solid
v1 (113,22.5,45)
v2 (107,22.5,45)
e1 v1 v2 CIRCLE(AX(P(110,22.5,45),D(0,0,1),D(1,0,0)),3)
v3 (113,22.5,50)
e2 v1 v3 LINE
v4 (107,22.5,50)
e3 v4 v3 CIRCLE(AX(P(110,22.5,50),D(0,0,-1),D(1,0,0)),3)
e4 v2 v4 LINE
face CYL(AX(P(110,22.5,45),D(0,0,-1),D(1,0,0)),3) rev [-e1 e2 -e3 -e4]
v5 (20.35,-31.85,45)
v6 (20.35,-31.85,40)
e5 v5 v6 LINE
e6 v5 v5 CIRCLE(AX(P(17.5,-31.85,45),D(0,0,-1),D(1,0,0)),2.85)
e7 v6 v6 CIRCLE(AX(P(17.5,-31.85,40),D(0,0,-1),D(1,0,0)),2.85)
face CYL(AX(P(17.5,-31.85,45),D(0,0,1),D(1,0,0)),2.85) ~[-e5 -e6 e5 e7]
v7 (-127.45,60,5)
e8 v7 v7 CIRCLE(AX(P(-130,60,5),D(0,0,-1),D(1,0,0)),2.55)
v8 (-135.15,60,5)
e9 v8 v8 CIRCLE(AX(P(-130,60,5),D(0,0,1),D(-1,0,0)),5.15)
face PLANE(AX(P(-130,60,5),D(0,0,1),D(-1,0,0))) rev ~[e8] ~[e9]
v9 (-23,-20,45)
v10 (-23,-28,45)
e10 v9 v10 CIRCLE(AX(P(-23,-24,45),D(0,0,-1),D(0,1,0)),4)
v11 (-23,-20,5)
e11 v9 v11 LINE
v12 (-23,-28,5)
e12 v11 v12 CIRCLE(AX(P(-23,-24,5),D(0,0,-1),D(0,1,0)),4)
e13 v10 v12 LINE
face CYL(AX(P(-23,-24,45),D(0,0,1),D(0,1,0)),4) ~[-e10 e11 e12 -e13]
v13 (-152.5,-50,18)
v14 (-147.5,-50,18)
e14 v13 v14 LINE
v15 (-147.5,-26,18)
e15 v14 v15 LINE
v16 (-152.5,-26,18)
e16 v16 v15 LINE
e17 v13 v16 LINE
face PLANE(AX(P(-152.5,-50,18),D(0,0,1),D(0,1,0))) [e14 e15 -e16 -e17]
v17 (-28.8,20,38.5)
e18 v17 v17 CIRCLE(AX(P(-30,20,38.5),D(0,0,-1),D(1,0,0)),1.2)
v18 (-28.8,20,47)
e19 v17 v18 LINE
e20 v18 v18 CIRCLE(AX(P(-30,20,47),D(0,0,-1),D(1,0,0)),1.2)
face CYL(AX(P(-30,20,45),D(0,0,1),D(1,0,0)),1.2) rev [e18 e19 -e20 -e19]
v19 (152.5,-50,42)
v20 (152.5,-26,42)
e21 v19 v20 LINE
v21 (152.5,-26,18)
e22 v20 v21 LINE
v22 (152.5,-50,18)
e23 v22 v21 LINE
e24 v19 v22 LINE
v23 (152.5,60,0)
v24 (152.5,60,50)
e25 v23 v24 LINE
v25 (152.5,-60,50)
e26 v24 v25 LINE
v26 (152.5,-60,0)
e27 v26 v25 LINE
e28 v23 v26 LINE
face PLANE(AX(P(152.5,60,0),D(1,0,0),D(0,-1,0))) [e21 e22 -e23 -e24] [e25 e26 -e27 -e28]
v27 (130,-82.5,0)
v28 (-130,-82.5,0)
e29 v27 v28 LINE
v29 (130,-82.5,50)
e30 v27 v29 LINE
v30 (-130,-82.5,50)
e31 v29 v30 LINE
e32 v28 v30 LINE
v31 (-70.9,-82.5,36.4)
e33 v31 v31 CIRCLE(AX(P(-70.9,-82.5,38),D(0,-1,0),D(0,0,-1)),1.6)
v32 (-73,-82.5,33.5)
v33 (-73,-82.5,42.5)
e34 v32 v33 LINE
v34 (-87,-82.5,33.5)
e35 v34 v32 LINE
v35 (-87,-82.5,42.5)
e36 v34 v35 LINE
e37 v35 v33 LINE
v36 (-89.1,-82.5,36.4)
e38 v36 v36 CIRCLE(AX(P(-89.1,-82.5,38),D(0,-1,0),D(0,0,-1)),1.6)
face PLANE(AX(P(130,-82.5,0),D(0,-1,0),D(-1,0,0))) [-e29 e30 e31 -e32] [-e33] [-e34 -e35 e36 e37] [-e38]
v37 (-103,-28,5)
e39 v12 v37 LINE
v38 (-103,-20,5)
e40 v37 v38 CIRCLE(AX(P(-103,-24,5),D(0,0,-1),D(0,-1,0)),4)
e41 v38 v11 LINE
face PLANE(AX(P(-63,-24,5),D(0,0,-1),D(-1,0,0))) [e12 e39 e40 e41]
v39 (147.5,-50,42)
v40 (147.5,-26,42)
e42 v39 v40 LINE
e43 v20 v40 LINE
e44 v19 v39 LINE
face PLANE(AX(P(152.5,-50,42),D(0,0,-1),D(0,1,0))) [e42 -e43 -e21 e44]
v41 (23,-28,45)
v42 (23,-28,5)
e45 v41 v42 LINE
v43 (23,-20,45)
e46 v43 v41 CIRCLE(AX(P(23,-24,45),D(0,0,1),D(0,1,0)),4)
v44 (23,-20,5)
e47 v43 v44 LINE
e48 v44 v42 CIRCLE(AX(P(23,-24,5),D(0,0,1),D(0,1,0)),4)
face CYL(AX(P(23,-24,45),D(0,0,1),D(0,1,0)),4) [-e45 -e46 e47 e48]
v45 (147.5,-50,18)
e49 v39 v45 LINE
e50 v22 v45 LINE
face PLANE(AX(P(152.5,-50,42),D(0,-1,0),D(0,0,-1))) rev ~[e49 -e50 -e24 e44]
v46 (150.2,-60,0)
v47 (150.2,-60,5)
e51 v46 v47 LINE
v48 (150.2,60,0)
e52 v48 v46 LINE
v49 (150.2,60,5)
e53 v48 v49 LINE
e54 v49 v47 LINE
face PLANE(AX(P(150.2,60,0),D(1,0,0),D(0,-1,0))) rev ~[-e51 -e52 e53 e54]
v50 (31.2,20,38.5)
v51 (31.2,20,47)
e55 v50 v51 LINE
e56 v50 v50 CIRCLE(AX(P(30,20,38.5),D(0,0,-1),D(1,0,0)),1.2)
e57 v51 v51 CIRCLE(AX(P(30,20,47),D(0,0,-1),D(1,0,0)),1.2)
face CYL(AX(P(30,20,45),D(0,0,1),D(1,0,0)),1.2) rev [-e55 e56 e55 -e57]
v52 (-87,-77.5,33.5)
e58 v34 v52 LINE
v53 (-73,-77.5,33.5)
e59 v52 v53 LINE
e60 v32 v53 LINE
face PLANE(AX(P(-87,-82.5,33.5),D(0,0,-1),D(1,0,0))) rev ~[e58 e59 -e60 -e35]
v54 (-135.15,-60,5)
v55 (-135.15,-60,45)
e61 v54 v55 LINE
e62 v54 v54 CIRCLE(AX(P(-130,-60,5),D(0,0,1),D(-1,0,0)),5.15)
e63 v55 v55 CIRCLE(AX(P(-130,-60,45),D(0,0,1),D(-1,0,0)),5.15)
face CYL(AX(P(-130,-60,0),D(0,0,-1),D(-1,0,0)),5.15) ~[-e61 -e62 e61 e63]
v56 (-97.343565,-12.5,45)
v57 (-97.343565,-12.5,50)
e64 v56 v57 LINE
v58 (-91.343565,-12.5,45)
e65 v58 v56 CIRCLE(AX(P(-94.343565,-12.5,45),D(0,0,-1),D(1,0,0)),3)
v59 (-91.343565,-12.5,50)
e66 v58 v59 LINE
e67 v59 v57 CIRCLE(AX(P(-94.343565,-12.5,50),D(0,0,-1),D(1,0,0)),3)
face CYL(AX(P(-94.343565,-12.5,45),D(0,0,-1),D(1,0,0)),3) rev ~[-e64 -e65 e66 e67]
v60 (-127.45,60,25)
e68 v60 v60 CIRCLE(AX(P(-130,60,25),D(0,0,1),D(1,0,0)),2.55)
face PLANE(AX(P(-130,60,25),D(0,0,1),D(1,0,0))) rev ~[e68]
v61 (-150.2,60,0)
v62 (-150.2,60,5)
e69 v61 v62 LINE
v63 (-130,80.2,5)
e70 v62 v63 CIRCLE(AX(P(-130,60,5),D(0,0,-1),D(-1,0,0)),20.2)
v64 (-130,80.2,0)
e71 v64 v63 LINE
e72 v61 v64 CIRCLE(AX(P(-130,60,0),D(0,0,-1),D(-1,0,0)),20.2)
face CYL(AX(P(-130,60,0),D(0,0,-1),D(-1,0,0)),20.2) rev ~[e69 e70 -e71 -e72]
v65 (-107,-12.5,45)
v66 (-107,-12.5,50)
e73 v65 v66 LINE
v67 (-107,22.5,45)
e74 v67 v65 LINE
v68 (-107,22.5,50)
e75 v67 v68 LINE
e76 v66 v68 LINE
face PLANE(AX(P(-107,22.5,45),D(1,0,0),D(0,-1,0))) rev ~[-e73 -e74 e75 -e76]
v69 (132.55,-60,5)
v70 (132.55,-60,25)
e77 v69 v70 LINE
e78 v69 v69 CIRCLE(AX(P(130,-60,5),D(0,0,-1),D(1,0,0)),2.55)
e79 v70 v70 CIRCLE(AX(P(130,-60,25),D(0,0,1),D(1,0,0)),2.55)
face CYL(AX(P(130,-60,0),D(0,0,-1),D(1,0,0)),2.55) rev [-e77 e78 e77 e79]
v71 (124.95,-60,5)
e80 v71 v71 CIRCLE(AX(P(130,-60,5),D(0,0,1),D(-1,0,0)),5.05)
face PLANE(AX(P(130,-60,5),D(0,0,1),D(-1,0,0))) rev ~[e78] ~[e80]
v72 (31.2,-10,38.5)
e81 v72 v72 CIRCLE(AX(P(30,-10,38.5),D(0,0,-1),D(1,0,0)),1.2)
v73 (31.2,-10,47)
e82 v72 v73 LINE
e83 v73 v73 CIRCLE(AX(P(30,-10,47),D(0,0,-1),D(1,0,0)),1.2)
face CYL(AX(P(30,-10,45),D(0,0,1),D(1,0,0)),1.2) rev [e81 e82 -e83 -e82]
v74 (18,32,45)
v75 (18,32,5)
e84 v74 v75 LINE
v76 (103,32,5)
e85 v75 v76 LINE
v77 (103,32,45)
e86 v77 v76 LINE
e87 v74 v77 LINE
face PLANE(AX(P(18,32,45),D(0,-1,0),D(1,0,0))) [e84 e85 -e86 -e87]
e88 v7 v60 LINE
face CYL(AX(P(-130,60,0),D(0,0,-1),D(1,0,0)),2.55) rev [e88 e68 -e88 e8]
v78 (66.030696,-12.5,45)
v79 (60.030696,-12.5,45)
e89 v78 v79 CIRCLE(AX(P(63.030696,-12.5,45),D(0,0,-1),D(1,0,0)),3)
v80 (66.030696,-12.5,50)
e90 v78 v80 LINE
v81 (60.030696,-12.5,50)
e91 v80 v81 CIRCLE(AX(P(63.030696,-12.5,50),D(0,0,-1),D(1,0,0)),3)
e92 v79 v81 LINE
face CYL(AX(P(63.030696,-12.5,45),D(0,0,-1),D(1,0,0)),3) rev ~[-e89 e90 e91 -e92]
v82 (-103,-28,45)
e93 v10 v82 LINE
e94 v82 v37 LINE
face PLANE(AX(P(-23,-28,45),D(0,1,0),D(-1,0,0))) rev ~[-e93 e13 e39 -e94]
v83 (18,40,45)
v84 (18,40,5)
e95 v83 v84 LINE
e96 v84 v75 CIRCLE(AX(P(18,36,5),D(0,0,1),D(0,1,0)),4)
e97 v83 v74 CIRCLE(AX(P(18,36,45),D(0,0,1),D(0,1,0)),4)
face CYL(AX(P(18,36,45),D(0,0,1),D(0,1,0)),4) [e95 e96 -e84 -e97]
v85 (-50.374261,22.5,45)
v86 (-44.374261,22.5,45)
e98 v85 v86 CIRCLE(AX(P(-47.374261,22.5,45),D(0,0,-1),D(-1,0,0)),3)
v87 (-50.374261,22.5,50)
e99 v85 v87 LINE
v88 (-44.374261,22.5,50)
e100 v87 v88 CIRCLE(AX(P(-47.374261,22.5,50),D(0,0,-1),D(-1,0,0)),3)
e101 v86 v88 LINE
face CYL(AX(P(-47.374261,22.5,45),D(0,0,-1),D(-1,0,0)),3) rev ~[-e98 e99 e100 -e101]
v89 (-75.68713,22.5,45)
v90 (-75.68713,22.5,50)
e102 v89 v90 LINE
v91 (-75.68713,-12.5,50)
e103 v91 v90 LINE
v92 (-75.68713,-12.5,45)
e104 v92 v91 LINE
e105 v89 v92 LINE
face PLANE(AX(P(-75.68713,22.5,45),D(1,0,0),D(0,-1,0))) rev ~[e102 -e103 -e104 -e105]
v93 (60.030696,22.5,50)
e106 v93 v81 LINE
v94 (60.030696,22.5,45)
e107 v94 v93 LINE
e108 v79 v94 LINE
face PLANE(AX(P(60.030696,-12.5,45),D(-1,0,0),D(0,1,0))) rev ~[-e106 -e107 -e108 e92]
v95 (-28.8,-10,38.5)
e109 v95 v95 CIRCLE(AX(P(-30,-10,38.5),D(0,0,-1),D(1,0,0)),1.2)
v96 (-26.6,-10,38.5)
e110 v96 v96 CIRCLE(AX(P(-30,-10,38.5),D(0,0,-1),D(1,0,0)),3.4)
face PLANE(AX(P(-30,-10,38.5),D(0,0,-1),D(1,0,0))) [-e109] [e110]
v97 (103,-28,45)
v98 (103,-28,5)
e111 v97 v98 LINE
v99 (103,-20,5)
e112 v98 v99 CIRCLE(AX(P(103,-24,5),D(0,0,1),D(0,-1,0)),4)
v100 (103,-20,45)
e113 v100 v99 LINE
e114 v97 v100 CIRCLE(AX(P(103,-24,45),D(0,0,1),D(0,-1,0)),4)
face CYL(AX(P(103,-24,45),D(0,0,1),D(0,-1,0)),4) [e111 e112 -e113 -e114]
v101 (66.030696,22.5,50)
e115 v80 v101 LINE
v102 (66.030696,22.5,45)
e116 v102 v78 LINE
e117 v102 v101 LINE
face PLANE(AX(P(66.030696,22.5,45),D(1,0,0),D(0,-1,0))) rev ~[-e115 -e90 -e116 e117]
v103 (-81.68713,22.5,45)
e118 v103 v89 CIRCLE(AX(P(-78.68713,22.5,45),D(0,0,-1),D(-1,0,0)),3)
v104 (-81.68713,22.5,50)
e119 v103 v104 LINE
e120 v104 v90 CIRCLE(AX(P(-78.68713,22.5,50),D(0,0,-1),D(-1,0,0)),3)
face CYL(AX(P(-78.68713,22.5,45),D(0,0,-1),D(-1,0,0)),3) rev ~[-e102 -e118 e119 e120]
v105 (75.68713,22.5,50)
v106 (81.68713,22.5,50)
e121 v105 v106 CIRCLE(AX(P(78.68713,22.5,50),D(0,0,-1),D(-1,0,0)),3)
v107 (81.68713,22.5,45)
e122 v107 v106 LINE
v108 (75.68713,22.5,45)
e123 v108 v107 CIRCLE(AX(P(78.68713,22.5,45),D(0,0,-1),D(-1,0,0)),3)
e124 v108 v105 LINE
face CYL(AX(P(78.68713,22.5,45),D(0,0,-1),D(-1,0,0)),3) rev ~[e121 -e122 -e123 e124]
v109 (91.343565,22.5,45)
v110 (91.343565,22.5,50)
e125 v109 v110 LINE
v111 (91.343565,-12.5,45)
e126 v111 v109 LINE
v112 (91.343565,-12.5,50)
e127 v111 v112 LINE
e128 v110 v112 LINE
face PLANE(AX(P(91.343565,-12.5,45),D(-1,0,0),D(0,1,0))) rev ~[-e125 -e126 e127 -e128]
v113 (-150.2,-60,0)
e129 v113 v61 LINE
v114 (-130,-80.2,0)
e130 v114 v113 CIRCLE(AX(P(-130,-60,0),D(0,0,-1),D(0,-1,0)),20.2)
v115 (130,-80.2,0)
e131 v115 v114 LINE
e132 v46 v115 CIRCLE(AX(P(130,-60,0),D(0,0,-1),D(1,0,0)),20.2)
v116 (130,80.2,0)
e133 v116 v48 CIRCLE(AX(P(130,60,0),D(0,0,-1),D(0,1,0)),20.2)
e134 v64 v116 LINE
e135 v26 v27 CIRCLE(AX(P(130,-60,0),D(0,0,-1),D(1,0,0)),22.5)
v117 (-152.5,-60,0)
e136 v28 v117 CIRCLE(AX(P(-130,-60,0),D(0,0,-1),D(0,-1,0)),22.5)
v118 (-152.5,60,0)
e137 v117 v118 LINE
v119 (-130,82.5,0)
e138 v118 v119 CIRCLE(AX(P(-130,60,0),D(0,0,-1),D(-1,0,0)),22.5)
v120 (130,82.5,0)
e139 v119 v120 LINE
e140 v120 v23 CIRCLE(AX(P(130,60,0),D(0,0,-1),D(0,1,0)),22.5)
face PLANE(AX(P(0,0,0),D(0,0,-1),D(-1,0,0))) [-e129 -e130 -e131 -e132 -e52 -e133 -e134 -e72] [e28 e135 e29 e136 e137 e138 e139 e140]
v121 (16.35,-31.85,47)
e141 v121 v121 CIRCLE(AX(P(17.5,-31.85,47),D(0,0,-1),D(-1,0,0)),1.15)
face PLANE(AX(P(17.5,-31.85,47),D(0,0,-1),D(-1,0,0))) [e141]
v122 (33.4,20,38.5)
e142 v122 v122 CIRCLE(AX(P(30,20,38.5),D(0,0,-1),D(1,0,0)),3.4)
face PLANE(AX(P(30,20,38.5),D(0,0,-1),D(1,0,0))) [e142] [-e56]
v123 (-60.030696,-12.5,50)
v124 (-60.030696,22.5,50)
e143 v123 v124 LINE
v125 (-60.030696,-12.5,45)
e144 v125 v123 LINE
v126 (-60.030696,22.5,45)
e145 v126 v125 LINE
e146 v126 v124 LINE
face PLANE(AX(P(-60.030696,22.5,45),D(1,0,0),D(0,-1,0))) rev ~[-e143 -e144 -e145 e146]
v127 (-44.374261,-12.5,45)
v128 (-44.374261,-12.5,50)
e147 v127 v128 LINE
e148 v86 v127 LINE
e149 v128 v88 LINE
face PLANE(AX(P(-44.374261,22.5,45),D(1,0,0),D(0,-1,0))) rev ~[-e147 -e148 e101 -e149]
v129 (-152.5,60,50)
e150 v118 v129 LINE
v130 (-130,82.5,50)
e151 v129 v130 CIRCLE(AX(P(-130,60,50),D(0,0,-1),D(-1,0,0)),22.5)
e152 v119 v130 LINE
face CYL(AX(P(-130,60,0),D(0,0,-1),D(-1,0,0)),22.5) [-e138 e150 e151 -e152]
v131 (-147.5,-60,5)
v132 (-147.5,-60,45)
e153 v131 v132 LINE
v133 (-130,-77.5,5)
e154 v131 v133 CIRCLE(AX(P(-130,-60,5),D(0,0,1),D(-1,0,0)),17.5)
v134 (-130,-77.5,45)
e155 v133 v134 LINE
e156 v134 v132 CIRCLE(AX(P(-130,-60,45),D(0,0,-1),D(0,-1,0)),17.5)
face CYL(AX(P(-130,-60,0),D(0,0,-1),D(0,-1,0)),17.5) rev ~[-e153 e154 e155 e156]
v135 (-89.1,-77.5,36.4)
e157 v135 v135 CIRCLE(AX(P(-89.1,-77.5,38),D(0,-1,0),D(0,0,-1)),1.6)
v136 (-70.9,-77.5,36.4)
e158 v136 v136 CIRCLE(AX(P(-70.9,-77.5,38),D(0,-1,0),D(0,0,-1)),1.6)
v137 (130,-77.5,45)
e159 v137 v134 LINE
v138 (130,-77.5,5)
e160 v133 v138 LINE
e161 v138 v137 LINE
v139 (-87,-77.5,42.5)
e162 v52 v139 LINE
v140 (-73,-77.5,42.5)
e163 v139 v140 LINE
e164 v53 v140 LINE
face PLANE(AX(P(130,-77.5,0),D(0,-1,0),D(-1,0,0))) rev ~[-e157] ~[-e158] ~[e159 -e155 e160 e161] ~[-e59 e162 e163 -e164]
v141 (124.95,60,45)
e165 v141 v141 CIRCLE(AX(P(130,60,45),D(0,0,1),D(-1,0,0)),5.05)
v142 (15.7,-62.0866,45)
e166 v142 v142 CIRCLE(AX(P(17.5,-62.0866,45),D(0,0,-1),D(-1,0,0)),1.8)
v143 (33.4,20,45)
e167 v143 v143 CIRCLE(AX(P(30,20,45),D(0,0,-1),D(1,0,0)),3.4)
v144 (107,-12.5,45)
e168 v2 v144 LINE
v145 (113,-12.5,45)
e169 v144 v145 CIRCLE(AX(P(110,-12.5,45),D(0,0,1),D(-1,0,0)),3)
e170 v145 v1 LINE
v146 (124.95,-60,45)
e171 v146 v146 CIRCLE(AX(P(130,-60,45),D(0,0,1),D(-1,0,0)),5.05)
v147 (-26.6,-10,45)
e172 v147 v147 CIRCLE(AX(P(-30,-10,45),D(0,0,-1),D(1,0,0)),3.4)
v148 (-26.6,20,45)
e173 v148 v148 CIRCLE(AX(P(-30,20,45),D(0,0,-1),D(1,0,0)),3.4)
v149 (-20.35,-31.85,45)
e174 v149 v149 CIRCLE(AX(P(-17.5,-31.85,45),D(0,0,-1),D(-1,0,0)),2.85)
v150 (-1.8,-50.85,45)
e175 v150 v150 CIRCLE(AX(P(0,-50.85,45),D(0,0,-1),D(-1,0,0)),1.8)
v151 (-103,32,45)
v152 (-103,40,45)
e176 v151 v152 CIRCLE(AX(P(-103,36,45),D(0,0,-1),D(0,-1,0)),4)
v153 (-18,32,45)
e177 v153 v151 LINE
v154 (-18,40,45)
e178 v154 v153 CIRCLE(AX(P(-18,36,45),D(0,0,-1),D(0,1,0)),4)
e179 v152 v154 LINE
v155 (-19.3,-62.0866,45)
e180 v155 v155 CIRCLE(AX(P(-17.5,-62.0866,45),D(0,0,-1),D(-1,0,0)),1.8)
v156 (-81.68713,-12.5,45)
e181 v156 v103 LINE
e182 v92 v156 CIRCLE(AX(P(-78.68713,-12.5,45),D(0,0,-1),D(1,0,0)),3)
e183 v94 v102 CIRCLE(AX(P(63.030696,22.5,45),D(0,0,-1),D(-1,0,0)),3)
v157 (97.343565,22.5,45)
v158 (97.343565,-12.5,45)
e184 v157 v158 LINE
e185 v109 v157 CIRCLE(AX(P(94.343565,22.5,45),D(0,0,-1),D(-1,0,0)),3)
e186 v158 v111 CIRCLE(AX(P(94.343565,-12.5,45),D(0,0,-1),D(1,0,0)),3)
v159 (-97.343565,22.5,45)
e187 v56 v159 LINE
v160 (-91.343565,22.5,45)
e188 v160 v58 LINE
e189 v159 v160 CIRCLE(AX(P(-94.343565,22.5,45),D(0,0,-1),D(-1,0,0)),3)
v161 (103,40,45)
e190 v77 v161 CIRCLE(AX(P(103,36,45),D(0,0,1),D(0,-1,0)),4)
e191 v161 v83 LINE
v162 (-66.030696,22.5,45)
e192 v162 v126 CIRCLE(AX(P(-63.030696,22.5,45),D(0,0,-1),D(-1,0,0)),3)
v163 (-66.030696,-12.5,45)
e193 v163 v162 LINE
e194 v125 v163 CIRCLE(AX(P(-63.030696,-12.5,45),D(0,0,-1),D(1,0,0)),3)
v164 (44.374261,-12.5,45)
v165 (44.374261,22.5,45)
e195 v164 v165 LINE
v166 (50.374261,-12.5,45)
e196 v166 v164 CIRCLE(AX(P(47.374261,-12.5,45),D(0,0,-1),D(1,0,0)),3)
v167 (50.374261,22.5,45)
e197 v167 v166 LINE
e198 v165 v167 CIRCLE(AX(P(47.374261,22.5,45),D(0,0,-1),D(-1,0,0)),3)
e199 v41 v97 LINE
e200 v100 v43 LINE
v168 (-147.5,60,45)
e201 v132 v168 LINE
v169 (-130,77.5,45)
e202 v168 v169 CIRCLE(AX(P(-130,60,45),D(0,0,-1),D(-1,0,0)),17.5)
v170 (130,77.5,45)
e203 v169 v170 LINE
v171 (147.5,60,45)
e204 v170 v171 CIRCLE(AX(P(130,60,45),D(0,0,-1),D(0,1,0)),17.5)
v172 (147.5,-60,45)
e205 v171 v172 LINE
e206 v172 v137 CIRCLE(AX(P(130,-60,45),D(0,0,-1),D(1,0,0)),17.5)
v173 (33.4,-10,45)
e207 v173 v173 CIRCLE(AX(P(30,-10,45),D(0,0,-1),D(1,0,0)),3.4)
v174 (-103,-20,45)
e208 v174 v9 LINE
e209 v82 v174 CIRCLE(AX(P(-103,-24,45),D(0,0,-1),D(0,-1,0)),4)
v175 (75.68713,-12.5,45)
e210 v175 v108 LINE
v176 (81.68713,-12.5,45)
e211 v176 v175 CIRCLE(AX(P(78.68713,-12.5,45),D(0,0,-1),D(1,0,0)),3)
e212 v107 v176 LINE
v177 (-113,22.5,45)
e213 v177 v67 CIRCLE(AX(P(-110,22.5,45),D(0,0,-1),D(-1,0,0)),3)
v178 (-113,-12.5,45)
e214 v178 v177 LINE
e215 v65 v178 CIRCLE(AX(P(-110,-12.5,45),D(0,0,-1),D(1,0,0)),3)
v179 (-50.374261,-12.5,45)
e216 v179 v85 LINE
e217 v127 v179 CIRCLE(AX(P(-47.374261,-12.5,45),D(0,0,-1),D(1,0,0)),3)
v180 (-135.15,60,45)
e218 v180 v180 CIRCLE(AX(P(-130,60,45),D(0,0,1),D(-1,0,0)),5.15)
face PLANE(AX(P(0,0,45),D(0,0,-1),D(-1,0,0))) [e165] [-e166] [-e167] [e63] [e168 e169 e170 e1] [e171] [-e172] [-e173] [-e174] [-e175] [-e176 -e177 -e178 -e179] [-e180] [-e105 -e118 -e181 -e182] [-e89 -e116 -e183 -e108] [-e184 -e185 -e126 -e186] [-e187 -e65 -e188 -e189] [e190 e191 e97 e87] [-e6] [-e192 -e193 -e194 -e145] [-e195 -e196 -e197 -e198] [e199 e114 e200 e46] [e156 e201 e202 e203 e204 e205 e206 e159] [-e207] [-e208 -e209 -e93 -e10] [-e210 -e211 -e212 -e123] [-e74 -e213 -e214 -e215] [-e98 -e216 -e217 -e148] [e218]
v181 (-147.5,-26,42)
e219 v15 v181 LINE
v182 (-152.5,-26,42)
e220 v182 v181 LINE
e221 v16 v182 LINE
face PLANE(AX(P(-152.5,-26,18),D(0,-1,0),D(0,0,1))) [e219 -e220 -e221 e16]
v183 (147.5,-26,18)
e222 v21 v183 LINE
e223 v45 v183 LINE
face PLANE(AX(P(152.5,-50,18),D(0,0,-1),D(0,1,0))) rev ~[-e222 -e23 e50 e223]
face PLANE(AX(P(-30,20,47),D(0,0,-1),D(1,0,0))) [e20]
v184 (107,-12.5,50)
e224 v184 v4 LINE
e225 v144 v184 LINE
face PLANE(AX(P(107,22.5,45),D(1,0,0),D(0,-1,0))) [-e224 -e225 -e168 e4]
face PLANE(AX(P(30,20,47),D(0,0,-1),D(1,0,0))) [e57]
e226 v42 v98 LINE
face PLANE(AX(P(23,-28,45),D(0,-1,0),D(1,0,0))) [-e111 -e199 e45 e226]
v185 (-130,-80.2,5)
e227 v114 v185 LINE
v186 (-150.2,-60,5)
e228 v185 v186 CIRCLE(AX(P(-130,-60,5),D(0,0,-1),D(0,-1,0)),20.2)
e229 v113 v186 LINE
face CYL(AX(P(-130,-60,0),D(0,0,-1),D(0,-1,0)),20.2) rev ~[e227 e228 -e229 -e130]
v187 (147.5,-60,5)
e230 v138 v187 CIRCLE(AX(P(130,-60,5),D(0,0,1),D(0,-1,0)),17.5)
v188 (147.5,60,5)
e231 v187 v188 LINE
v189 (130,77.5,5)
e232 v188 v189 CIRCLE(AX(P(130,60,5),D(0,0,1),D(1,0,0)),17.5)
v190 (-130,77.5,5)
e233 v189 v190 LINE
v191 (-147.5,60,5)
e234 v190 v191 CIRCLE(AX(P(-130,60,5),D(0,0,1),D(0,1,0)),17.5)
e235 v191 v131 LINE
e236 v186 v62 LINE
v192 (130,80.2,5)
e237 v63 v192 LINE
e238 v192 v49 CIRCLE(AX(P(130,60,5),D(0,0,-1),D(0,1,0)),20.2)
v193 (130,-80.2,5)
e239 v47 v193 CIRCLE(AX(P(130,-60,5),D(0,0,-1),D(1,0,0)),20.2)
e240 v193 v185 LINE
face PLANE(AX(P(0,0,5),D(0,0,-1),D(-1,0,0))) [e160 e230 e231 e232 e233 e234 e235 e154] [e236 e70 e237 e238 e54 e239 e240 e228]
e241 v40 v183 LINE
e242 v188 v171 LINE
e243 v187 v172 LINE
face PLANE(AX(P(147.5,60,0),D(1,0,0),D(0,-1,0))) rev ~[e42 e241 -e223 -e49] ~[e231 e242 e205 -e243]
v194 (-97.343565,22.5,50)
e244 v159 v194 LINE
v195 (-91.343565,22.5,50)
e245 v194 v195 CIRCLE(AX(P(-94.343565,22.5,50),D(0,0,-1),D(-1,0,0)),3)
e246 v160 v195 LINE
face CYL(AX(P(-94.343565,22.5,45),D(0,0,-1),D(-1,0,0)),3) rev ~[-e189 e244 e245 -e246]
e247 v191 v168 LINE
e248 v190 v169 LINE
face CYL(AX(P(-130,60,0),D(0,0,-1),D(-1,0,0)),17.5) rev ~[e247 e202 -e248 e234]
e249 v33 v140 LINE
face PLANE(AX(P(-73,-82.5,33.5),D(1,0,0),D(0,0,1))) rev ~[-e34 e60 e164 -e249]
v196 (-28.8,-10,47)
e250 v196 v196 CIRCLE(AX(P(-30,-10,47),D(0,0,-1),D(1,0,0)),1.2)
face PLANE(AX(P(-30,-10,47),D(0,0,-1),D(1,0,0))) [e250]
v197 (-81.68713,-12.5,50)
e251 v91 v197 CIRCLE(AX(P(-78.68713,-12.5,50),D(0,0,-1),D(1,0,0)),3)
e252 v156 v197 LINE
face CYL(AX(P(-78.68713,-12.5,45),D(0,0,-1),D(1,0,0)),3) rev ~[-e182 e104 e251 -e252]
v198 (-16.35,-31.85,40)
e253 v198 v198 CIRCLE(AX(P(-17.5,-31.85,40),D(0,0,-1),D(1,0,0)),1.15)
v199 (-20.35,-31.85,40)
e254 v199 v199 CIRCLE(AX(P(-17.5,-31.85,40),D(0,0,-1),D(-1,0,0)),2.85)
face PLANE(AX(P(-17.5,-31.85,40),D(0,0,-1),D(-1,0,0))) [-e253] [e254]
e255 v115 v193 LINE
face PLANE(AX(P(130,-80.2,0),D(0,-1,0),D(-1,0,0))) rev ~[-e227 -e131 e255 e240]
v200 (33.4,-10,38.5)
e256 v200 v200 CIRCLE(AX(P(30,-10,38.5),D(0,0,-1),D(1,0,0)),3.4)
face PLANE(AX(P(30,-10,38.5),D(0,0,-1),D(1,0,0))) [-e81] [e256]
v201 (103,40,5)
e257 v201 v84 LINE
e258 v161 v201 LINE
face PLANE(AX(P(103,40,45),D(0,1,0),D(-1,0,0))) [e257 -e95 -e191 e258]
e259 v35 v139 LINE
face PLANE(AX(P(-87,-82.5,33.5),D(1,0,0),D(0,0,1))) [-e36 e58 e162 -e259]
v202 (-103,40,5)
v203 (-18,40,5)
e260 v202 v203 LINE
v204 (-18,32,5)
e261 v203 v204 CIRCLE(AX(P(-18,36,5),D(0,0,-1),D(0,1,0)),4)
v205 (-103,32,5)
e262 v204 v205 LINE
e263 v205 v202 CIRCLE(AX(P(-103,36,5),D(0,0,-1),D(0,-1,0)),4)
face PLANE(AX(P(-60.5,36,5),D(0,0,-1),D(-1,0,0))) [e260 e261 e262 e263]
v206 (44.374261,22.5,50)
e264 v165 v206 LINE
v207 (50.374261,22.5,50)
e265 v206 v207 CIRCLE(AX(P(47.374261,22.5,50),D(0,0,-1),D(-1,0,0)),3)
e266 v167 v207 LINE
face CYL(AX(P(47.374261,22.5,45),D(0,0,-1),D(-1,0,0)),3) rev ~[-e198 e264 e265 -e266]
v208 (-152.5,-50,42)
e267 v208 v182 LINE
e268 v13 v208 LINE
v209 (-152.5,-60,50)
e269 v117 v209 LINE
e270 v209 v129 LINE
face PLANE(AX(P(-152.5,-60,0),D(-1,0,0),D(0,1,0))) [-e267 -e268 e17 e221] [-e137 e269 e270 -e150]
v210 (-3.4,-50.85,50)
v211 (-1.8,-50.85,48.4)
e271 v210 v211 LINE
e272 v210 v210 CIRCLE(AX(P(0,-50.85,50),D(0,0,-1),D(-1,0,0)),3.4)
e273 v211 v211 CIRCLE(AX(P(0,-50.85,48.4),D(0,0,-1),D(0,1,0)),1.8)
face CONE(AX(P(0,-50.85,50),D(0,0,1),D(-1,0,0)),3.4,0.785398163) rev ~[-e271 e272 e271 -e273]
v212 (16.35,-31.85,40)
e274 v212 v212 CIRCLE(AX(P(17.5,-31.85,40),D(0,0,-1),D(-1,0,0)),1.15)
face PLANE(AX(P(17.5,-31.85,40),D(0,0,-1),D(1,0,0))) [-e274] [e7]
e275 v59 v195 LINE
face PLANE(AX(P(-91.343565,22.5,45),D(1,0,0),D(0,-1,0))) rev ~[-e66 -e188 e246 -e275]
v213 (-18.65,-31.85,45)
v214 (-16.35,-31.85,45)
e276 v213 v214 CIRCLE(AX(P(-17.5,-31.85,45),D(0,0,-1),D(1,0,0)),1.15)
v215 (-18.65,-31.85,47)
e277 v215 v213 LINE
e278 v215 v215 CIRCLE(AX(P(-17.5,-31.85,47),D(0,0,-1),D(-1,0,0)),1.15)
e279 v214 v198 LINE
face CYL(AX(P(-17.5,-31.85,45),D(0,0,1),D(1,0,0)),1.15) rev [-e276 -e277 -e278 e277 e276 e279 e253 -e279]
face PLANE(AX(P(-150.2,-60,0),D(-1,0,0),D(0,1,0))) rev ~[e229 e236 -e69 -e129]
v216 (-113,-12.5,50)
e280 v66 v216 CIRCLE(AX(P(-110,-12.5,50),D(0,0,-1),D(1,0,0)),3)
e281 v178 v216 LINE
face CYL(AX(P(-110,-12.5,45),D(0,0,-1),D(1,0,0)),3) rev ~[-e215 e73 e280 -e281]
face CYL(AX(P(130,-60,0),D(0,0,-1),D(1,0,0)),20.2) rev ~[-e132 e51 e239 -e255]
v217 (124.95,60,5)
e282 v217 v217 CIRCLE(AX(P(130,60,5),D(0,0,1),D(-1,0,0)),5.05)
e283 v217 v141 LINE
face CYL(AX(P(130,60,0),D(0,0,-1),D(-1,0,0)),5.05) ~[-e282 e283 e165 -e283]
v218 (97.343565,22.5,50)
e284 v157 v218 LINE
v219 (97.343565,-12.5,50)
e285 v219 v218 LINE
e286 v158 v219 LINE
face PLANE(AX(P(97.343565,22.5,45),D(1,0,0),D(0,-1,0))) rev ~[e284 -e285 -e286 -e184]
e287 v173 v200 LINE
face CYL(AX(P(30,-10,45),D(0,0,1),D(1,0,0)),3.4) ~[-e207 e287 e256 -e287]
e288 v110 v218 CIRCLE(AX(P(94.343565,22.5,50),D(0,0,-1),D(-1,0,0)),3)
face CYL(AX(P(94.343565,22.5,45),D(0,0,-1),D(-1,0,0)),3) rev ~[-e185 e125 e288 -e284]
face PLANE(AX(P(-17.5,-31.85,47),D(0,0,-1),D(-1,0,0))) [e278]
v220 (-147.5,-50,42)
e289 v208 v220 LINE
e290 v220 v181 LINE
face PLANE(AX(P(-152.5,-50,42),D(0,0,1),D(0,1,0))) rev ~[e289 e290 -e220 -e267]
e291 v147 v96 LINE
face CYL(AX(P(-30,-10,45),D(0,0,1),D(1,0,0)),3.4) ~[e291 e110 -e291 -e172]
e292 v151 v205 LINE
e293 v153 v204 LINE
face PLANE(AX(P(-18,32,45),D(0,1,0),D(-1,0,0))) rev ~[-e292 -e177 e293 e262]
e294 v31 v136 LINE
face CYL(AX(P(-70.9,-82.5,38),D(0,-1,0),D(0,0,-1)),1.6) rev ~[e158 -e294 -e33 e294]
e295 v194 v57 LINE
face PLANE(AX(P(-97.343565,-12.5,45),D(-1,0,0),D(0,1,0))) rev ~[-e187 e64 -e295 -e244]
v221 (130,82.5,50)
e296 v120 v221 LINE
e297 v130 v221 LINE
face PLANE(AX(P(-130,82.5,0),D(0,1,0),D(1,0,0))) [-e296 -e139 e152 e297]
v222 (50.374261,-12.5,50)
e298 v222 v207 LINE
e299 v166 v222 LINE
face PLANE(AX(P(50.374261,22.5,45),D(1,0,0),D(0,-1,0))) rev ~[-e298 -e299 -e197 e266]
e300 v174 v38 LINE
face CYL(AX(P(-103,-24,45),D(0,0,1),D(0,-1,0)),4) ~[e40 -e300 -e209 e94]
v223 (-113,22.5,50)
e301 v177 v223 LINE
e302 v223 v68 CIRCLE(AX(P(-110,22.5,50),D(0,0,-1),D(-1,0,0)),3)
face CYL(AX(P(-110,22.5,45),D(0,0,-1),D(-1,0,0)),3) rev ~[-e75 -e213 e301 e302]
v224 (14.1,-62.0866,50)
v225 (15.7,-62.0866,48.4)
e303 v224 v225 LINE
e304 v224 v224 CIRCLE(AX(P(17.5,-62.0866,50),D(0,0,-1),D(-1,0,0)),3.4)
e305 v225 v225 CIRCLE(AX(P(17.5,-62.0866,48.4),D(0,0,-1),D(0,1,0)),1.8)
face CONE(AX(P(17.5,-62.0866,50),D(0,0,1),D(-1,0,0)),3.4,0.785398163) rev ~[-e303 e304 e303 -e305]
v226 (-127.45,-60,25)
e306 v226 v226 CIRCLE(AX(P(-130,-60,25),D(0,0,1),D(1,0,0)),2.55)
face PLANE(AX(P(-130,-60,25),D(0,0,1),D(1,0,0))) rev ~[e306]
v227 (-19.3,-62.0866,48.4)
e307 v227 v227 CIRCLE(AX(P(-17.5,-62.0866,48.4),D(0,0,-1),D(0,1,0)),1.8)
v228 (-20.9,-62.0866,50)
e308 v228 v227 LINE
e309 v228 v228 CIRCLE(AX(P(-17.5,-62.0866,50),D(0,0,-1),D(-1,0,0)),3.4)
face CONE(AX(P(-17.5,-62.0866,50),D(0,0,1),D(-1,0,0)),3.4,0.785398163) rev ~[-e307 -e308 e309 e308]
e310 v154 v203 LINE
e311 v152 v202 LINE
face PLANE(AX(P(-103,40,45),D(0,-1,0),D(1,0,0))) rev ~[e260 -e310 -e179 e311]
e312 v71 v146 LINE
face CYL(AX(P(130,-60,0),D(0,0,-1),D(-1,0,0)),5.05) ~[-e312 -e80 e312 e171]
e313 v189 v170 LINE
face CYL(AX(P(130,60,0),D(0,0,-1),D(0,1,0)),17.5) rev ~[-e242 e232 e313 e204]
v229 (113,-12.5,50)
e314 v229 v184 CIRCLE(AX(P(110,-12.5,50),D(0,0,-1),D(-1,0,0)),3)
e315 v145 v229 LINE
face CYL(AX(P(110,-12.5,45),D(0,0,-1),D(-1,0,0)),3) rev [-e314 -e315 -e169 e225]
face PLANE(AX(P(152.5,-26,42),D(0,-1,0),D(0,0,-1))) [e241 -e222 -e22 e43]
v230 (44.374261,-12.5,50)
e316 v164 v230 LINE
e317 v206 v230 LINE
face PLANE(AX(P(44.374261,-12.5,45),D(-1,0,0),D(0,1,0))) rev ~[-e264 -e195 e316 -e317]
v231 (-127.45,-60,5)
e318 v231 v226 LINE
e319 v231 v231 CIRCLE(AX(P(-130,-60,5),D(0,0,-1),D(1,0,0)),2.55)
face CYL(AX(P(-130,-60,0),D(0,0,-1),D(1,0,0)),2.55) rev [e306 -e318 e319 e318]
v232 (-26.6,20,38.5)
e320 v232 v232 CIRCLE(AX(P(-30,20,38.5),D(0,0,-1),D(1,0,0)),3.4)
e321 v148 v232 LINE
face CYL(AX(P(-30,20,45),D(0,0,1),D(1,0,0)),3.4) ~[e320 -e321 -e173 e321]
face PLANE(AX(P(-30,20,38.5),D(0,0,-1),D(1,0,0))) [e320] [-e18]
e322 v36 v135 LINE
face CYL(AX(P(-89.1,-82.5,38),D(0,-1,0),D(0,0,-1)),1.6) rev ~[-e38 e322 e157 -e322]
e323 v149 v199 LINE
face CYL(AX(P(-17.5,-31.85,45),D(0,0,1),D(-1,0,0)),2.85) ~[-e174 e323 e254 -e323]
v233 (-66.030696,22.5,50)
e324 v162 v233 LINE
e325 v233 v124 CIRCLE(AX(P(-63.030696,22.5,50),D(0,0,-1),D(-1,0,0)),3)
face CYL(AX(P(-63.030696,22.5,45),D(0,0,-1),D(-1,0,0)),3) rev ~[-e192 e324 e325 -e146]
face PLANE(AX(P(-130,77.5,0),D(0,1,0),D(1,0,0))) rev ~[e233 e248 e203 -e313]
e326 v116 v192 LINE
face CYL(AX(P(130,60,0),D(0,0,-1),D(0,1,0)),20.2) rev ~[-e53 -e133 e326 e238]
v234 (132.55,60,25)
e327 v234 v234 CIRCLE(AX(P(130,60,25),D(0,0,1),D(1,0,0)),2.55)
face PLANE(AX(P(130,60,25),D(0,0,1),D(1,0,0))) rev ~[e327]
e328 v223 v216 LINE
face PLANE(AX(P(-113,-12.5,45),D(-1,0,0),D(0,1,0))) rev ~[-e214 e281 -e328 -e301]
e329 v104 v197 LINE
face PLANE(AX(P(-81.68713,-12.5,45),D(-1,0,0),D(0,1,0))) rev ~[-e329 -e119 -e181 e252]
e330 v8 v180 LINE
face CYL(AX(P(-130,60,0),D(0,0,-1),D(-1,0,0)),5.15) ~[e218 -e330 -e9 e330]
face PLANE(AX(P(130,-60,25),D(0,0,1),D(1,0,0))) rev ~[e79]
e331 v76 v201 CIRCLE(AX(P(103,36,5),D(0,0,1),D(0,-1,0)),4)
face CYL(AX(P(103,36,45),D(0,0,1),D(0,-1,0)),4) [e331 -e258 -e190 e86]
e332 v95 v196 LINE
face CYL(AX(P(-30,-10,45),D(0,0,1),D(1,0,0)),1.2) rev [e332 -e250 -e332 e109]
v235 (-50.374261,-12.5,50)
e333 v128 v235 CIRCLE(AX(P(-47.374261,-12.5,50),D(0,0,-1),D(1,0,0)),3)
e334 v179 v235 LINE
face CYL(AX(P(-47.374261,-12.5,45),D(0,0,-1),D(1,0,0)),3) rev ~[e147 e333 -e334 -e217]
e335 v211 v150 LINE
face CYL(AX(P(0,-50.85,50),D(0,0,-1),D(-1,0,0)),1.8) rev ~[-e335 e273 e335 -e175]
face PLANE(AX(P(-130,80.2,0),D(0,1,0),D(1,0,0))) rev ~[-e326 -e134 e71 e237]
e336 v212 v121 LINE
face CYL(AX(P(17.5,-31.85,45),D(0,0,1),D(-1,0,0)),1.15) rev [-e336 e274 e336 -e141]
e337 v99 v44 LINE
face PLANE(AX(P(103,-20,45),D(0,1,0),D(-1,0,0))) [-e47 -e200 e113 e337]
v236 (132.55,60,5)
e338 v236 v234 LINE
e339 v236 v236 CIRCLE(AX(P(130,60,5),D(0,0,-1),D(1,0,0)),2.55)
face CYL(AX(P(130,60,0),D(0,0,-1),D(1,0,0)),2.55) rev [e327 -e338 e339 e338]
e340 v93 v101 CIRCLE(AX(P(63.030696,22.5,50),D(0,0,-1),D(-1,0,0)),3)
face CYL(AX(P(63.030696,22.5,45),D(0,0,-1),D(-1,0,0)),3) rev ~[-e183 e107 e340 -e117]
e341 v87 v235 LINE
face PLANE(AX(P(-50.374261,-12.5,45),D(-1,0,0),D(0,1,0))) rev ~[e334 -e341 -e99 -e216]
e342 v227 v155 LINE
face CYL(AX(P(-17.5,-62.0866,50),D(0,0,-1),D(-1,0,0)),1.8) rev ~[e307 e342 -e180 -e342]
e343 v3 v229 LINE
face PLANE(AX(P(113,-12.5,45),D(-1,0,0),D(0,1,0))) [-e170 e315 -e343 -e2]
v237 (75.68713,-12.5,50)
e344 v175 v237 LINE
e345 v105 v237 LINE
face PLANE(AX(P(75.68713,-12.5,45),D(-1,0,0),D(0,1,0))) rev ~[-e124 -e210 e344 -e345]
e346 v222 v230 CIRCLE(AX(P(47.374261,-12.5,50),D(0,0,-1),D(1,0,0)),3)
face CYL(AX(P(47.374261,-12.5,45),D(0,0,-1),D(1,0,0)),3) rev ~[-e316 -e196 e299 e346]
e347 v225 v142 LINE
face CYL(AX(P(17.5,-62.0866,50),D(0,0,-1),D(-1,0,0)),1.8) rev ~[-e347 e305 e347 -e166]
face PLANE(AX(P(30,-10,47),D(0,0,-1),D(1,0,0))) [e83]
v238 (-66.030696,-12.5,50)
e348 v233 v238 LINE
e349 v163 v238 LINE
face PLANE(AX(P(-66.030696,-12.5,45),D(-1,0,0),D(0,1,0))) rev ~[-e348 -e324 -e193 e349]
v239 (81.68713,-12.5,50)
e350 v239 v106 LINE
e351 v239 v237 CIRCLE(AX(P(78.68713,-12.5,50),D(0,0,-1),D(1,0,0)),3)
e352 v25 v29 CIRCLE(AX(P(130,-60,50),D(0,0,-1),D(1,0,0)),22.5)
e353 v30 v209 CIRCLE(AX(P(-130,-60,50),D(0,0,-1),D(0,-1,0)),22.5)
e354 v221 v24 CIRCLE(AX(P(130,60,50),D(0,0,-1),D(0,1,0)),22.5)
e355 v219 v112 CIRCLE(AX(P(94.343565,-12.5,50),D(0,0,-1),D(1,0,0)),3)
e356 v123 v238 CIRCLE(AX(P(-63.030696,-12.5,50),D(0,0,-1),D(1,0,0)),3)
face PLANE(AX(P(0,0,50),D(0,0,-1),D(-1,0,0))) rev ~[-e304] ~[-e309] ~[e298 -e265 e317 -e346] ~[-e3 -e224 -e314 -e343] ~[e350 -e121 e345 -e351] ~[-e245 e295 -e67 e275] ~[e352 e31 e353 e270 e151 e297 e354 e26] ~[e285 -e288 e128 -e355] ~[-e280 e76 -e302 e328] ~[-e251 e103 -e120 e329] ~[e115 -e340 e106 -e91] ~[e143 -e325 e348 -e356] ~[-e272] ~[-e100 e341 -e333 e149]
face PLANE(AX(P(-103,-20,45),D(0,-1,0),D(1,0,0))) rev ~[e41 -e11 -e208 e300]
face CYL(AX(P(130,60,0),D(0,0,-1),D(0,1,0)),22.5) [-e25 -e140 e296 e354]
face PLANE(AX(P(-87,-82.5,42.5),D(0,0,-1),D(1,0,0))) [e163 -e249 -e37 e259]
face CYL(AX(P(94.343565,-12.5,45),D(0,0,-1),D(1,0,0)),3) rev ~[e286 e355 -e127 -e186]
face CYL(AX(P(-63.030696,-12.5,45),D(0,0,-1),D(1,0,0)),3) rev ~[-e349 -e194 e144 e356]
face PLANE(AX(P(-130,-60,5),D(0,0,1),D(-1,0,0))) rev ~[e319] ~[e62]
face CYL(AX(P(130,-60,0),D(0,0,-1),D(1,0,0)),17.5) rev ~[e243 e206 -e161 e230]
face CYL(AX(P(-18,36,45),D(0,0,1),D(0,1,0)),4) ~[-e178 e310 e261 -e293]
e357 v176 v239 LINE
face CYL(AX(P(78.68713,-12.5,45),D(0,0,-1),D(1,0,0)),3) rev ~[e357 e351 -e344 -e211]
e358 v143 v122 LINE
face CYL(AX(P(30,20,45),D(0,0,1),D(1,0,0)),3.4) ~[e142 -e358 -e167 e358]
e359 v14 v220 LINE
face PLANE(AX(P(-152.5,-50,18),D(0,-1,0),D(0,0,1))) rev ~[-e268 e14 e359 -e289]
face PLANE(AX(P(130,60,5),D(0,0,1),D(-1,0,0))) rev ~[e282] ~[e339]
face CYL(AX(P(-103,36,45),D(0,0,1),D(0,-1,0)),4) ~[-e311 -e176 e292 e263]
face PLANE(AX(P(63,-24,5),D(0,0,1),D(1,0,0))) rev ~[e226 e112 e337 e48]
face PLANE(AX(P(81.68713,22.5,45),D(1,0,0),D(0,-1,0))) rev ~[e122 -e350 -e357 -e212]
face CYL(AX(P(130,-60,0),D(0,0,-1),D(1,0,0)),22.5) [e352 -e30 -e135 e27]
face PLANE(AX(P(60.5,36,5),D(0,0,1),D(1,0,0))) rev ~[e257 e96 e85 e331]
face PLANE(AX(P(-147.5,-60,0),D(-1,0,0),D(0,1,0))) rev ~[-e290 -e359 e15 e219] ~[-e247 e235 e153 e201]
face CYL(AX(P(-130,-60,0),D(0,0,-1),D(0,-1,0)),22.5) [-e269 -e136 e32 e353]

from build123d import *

# Parameters (mm, degrees)
EXTRUDE_1_DEPTH              = 50
SKETCH_1_4_R                 = 5.05
SKETCH_1_4_R_2               = 5.15
CUT_EXTRUDE_1_DEPTH          = 45
CUT_EXTRUDE_2_DEPTH          = 5
SKETCH_1_6_R                 = 5.05
SKETCH_1_6_R_2               = 5.15
CUT_EXTRUDE_3_DEPTH          = 5
SKETCH_1_7_R                 = 2.55
CUT_EXTRUDE_4_DEPTH          = 25
SKETCH_14_R                  = 1.6
SKETCH_14_W                  = 14
SKETCH_14_H                  = 9
USB_DEPTH                    = 5
SKETCH_16_W                  = 24
SKETCH_16_H                  = 24
CUT_EXTRUDE_12_DEPTH         = 5
SKETCH_18_W                  = 24
SKETCH_18_H                  = 24
CUT_EXTRUDE_13_DEPTH         = 5
EXTRUDE_2_DEPTH              = 40
SKETCH_29_4_R                = 2.85
SKETCH_29_4_R_2              = 1.15
EXTRUDE_4_DEPTH              = 5
SKETCH_29_5_R                = 3.4
SKETCH_29_5_R_2              = 1.2
EXTRUDE_5_DEPTH              = 6.5
CUT_EXTRUDE_START            = -2
SKETCH_29_R                  = 1.15
SKETCH_29_R_2                = 1.2
CUT_EXTRUDE_14_DEPTH         = 2
SKETCH_30_R                  = 1.6
CUT_EXTRUDE_21_DEPTH         = 5
HOLE_WIZARD_M3_1_D           = 3.6
HOLE_WIZARD_M3_1_CSINK_D     = 6.8
HOLE_WIZARD_M3_1_CSINK_ANGLE = 90
CUT_EXTRUDE_23_REACH         = 181.13


with BuildPart() as part:
    # 草图1 → 凸台-拉伸1 (new body)
    with BuildSketch(Plane.XY):
        with BuildLine():
            Line((-130, 82.5), (130, 82.5))
            ThreePointArc((130, 82.5), (145.909902577, 75.909902577), (152.5, 60))
            Line((152.5, 60), (152.5, -60))
            ThreePointArc((152.5, -60), (145.909902577, -75.909902577), (130, -82.5))
            Line((130, -82.5), (-130, -82.5))
            ThreePointArc((-130, -82.5), (-145.909902577, -75.909902577), (-152.5, -60))
            Line((-152.5, -60), (-152.5, 60))
            ThreePointArc((-152.5, 60), (-145.909902577, 75.909902577), (-130, 82.5))
        make_face()
    extrude(amount=EXTRUDE_1_DEPTH)

    # 草图1<4> → 切除-拉伸1 (cut)
    with BuildSketch(Plane.XY):
        with BuildLine():
            Line((-130, 77.5), (130, 77.5))
            ThreePointArc((130, 77.5), (142.374368671, 72.374368671), (147.5, 60))
            Line((147.5, 60), (147.5, -60))
            ThreePointArc((147.5, -60), (142.374368671, -72.374368671), (130, -77.5))
            Line((130, -77.5), (-130, -77.5))
            ThreePointArc((-130, -77.5), (-142.374368671, -72.374368671), (-147.5, -60))
            Line((-147.5, -60), (-147.5, 60))
            ThreePointArc((-147.5, 60), (-142.374368671, 72.374368671), (-130, 77.5))
        make_face()
        with Locations(Location((130, 60, 0), (0, 0, 180))):
            Circle(SKETCH_1_4_R, mode=Mode.SUBTRACT)
        with Locations(Location((130, -60, 0), (0, 0, 180))):
            Circle(SKETCH_1_4_R, mode=Mode.SUBTRACT)
        with Locations(Location((-130, 60, 0), (0, 0, 180))):
            Circle(SKETCH_1_4_R_2, mode=Mode.SUBTRACT)
        with Locations(Location((-130, -60, 0), (0, 0, 180))):
            Circle(SKETCH_1_4_R_2, mode=Mode.SUBTRACT)
    extrude(amount=CUT_EXTRUDE_1_DEPTH, mode=Mode.SUBTRACT)

    # 草图1<5> → 切除-拉伸2 (cut)
    with BuildSketch(Plane.XY):
        with BuildLine():
            ThreePointArc((-150.2, 60), (-144.28355698, 74.28355698), (-130, 80.2))
            Line((-130, 80.2), (130, 80.2))
            ThreePointArc((130, 80.2), (144.28355698, 74.28355698), (150.2, 60))
            Line((150.2, 60), (150.2, -60))
            ThreePointArc((150.2, -60), (144.28355698, -74.28355698), (130, -80.2))
            Line((130, -80.2), (-130, -80.2))
            ThreePointArc((-130, -80.2), (-144.28355698, -74.28355698), (-150.2, -60))
            Line((-150.2, -60), (-150.2, 60))
        make_face()
        with BuildLine():
            Line((-147.5, 60), (-147.5, -60))
            ThreePointArc((-147.5, -60), (-142.374368671, -72.374368671), (-130, -77.5))
            Line((-130, -77.5), (130, -77.5))
            ThreePointArc((130, -77.5), (142.374368671, -72.374368671), (147.5, -60))
            Line((147.5, -60), (147.5, 60))
            ThreePointArc((147.5, 60), (142.374368671, 72.374368671), (130, 77.5))
            Line((130, 77.5), (-130, 77.5))
            ThreePointArc((-130, 77.5), (-142.374368671, 72.374368671), (-147.5, 60))
        make_face(mode=Mode.SUBTRACT)
    extrude(amount=CUT_EXTRUDE_2_DEPTH, mode=Mode.SUBTRACT)

    # 草图1<6> → 切除-拉伸3 (cut)
    with BuildSketch(Plane.XY):
        with Locations(Location((130, 60, 0), (0, 0, 180))):
            Circle(SKETCH_1_6_R)
        with Locations(Location((130, -60, 0), (0, 0, 180))):
            Circle(SKETCH_1_6_R)
        with Locations(Location((-130, 60, 0), (0, 0, 180))):
            Circle(SKETCH_1_6_R_2)
        with Locations(Location((-130, -60, 0), (0, 0, 180))):
            Circle(SKETCH_1_6_R_2)
    extrude(amount=CUT_EXTRUDE_3_DEPTH, mode=Mode.SUBTRACT)

    # 草图1<7> → 切除-拉伸4 (cut)
    with BuildSketch(Plane.XY):
        with Locations((-130, -60)):
            Circle(SKETCH_1_7_R)
        with Locations((130, 60)):
            Circle(SKETCH_1_7_R)
        with Locations((130, -60)):
            Circle(SKETCH_1_7_R)
        with Locations((-130, 60)):
            Circle(SKETCH_1_7_R)
    extrude(amount=CUT_EXTRUDE_4_DEPTH, mode=Mode.SUBTRACT)

    # 草图14 → USB口 (cut)
    with BuildSketch(Plane.XZ.offset(82.5)):
        with Locations(Location((-70.9, 38, 0), (0, 0, 270))):
            Circle(SKETCH_14_R)
        with Locations(Location((-89.1, 38, 0), (0, 0, 270))):
            Circle(SKETCH_14_R)
        with Locations((-80, 38)):
            Rectangle(SKETCH_14_W, SKETCH_14_H)
    extrude(amount=-USB_DEPTH, mode=Mode.SUBTRACT)

    # 草图16 → 切除-拉伸12 (cut)
    with BuildSketch(Plane(origin=(152.5, 0, 0), x_dir=(0, 0, -1), z_dir=(1, 0, 0))):
        with Locations((-30, -38)):
            Rectangle(SKETCH_16_W, SKETCH_16_H)
    extrude(amount=-CUT_EXTRUDE_12_DEPTH, mode=Mode.SUBTRACT)

    # 草图18 → 切除-拉伸13 (cut)
    with BuildSketch(Plane.ZY.offset(152.5)):
        with Locations((30, -38)):
            Rectangle(SKETCH_18_W, SKETCH_18_H)
    extrude(amount=-CUT_EXTRUDE_13_DEPTH, mode=Mode.SUBTRACT)

    # 草图19 → 凸台-拉伸2 (add)
    with BuildSketch(Plane(origin=(0, 0, 45), x_dir=(-1, 0, 0), z_dir=(0, 0, -1))):
        with BuildLine():
            Line((-103, 40), (-18, 40))
            ThreePointArc((-18, 40), (-14, 36), (-18, 32))
            Line((-18, 32), (-103, 32))
            ThreePointArc((-103, 32), (-107, 36), (-103, 40))
        make_face()
        with BuildLine():
            Line((103, 40), (18, 40))
            ThreePointArc((18, 40), (14, 36), (18, 32))
            Line((18, 32), (103, 32))
            ThreePointArc((103, 32), (107, 36), (103, 40))
        make_face()
        with BuildLine():
            Line((-103, -20), (-23, -20))
            ThreePointArc((-23, -20), (-19, -24), (-23, -28))
            Line((-23, -28), (-103, -28))
            ThreePointArc((-103, -28), (-107, -24), (-103, -20))
        make_face()
        with BuildLine():
            Line((103, -20), (23, -20))
            ThreePointArc((23, -20), (19, -24), (23, -28))
            Line((23, -28), (103, -28))
            ThreePointArc((103, -28), (107, -24), (103, -20))
        make_face()
    extrude(amount=EXTRUDE_2_DEPTH)

    # 草图29<4> → 凸台-拉伸4 (add)
    # profile 1 of 2: a face of its own
    with BuildSketch(Plane(origin=(0, 0, 45), x_dir=(-1, 0, 0), z_dir=(0, 0, -1))):
        with Locations(Location((-17.5, -31.85, 0), (0, 0, 180))):
            Circle(SKETCH_29_4_R)
        with Locations((-17.5, -31.85)):
            Circle(SKETCH_29_4_R_2, mode=Mode.SUBTRACT)
    # profile 2 of 2: a face of its own
    with BuildSketch(Plane(origin=(0, 0, 45), x_dir=(-1, 0, 0), z_dir=(0, 0, -1))):
        with Locations((17.5, -31.85)):
            Circle(SKETCH_29_4_R)
        with Locations(Location((17.5, -31.85, 0), (0, 0, 180))):
            Circle(SKETCH_29_4_R_2, mode=Mode.SUBTRACT)
    extrude(amount=EXTRUDE_4_DEPTH)

    # 草图29<5> → 凸台-拉伸5 (add)
    # profile 1 of 4: a face of its own
    with BuildSketch(Plane(origin=(0, 0, 45), x_dir=(-1, 0, 0), z_dir=(0, 0, -1))):
        with Locations(Location((-30, 20, 0), (0, 0, 180))):
            Circle(SKETCH_29_5_R)
        with Locations(Location((-30, 20, 0), (0, 0, 180))):
            Circle(SKETCH_29_5_R_2, mode=Mode.SUBTRACT)
    # profile 2 of 4: a face of its own
    with BuildSketch(Plane(origin=(0, 0, 45), x_dir=(-1, 0, 0), z_dir=(0, 0, -1))):
        with Locations(Location((-30, -10, 0), (0, 0, 180))):
            Circle(SKETCH_29_5_R)
        with Locations(Location((-30, -10, 0), (0, 0, 180))):
            Circle(SKETCH_29_5_R_2, mode=Mode.SUBTRACT)
    # profile 3 of 4: a face of its own
    with BuildSketch(Plane(origin=(0, 0, 45), x_dir=(-1, 0, 0), z_dir=(0, 0, -1))):
        with Locations(Location((30, 20, 0), (0, 0, 180))):
            Circle(SKETCH_29_5_R)
        with Locations(Location((30, 20, 0), (0, 0, 180))):
            Circle(SKETCH_29_5_R_2, mode=Mode.SUBTRACT)
    # profile 4 of 4: a face of its own
    with BuildSketch(Plane(origin=(0, 0, 45), x_dir=(-1, 0, 0), z_dir=(0, 0, -1))):
        with Locations(Location((30, -10, 0), (0, 0, 180))):
            Circle(SKETCH_29_5_R)
        with Locations(Location((30, -10, 0), (0, 0, 180))):
            Circle(SKETCH_29_5_R_2, mode=Mode.SUBTRACT)
    extrude(amount=EXTRUDE_5_DEPTH)

    # 草图29 → 切除-拉伸14 (cut)
    with BuildSketch(Plane(origin=(0, 0, 45), x_dir=(-1, 0, 0), z_dir=(0, 0, -1)).offset(CUT_EXTRUDE_START)):
        with Locations((17.5, -31.85)):
            Circle(SKETCH_29_R)
        with Locations((-17.5, -31.85)):
            Circle(SKETCH_29_R)
        with Locations(Location((30, -10, 0), (0, 0, 180))):
            Circle(SKETCH_29_R_2)
        with Locations(Location((-30, -10, 0), (0, 0, 180))):
            Circle(SKETCH_29_R_2)
        with Locations(Location((-30, 20, 0), (0, 0, 180))):
            Circle(SKETCH_29_R_2)
        with Locations(Location((30, 20, 0), (0, 0, 180))):
            Circle(SKETCH_29_R_2)
    extrude(amount=CUT_EXTRUDE_14_DEPTH, mode=Mode.SUBTRACT)

    # 草图30 → 切除-拉伸21 (cut)
    with BuildSketch(Plane(origin=(0, 0, 45), x_dir=(-1, 0, 0), z_dir=(0, 0, -1))):
        with Locations((17.5, -62.0866)):
            Circle(SKETCH_30_R)
        with Locations((0, -50.85)):
            Circle(SKETCH_30_R)
        with Locations((-17.5, -62.0866)):
            Circle(SKETCH_30_R)
    extrude(amount=-CUT_EXTRUDE_21_DEPTH, mode=Mode.SUBTRACT)

    # M3 平头机械螺钉的锥形沉头孔1 (through all)
    with Locations(Plane.XY.offset(50)):
        with Locations((17.5, -62.0866), (0, -50.85), (-17.5, -62.0866)):
            CounterSinkHole(HOLE_WIZARD_M3_1_D / 2, HOLE_WIZARD_M3_1_CSINK_D / 2, counter_sink_angle=HOLE_WIZARD_M3_1_CSINK_ANGLE)

    # 草图38 → 切除-拉伸23 (cut, up to next)
    with BuildSketch(Plane(origin=(0, 0, 45), x_dir=(-1, 0, 0), z_dir=(0, 0, -1)), mode=Mode.PRIVATE) as cut_extrude_23_sk1:
        with BuildLine():
            Line((-107, 22.5), (-107, -12.5))
            ThreePointArc((-107, -12.5), (-110, -15.5), (-113, -12.5))
            Line((-113, -12.5), (-113, 22.5))
            ThreePointArc((-113, 22.5), (-110, 25.5), (-107, 22.5))
        make_face()
    cut_extrude_23_tool1 = extrude(cut_extrude_23_sk1.sketch, amount=-CUT_EXTRUDE_23_REACH, mode=Mode.PRIVATE) & part.part
    # 草图38 → 切除-拉伸23 (cut, up to next)
    with BuildSketch(Plane(origin=(0, 0, 45), x_dir=(-1, 0, 0), z_dir=(0, 0, -1)), mode=Mode.PRIVATE) as cut_extrude_23_sk2:
        with BuildLine():
            Line((-97.343565249, 22.5), (-97.343565249, -12.5))
            ThreePointArc((-97.343565249, -12.5), (-94.343565249, -15.5), (-91.343565249, -12.5))
            Line((-91.343565249, -12.5), (-91.343565249, 22.5))
            ThreePointArc((-91.343565249, 22.5), (-94.343565249, 25.5), (-97.343565249, 22.5))
        make_face()
    cut_extrude_23_tool2 = extrude(cut_extrude_23_sk2.sketch, amount=-CUT_EXTRUDE_23_REACH, mode=Mode.PRIVATE) & part.part
    # 草图38 → 切除-拉伸23 (cut, up to next)
    with BuildSketch(Plane(origin=(0, 0, 45), x_dir=(-1, 0, 0), z_dir=(0, 0, -1)), mode=Mode.PRIVATE) as cut_extrude_23_sk3:
        with BuildLine():
            Line((-81.687130498, 22.5), (-81.687130498, -12.5))
            ThreePointArc((-81.687130498, -12.5), (-78.687130498, -15.5), (-75.687130498, -12.5))
            Line((-75.687130498, -12.5), (-75.687130498, 22.5))
            ThreePointArc((-75.687130498, 22.5), (-78.687130498, 25.5), (-81.687130498, 22.5))
        make_face()
    cut_extrude_23_tool3 = extrude(cut_extrude_23_sk3.sketch, amount=-CUT_EXTRUDE_23_REACH, mode=Mode.PRIVATE) & part.part
    # 草图38 → 切除-拉伸23 (cut, up to next)
    with BuildSketch(Plane(origin=(0, 0, 45), x_dir=(-1, 0, 0), z_dir=(0, 0, -1)), mode=Mode.PRIVATE) as cut_extrude_23_sk4:
        with BuildLine():
            Line((-66.030695747, 22.5), (-66.030695747, -12.5))
            ThreePointArc((-66.030695747, -12.5), (-63.030695747, -15.5), (-60.030695747, -12.5))
            Line((-60.030695747, -12.5), (-60.030695747, 22.5))
            ThreePointArc((-60.030695747, 22.5), (-63.030695747, 25.5), (-66.030695747, 22.5))
        make_face()
    cut_extrude_23_tool4 = extrude(cut_extrude_23_sk4.sketch, amount=-CUT_EXTRUDE_23_REACH, mode=Mode.PRIVATE) & part.part
    # 草图38 → 切除-拉伸23 (cut, up to next)
    with BuildSketch(Plane(origin=(0, 0, 45), x_dir=(-1, 0, 0), z_dir=(0, 0, -1)), mode=Mode.PRIVATE) as cut_extrude_23_sk5:
        with BuildLine():
            Line((-50.374260997, 22.5), (-50.374260997, -12.5))
            ThreePointArc((-50.374260997, -12.5), (-47.374260997, -15.5), (-44.374260997, -12.5))
            Line((-44.374260997, -12.5), (-44.374260997, 22.5))
            ThreePointArc((-44.374260997, 22.5), (-47.374260997, 25.5), (-50.374260997, 22.5))
        make_face()
    cut_extrude_23_tool5 = extrude(cut_extrude_23_sk5.sketch, amount=-CUT_EXTRUDE_23_REACH, mode=Mode.PRIVATE) & part.part
    # 草图38 → 切除-拉伸23 (cut, up to next)
    with BuildSketch(Plane(origin=(0, 0, 45), x_dir=(-1, 0, 0), z_dir=(0, 0, -1)), mode=Mode.PRIVATE) as cut_extrude_23_sk6:
        with BuildLine():
            Line((107, 22.5), (107, -12.5))
            ThreePointArc((107, -12.5), (110, -15.5), (113, -12.5))
            Line((113, -12.5), (113, 22.5))
            ThreePointArc((113, 22.5), (110, 25.5), (107, 22.5))
        make_face()
    cut_extrude_23_tool6 = extrude(cut_extrude_23_sk6.sketch, amount=-CUT_EXTRUDE_23_REACH, mode=Mode.PRIVATE) & part.part
    # 草图38 → 切除-拉伸23 (cut, up to next)
    with BuildSketch(Plane(origin=(0, 0, 45), x_dir=(-1, 0, 0), z_dir=(0, 0, -1)), mode=Mode.PRIVATE) as cut_extrude_23_sk7:
        with BuildLine():
            Line((91.343565249, 22.5), (91.343565249, -12.5))
            ThreePointArc((91.343565249, -12.5), (94.343565249, -15.5), (97.343565249, -12.5))
            Line((97.343565249, -12.5), (97.343565249, 22.5))
            ThreePointArc((97.343565249, 22.5), (94.343565249, 25.5), (91.343565249, 22.5))
        make_face()
    cut_extrude_23_tool7 = extrude(cut_extrude_23_sk7.sketch, amount=-CUT_EXTRUDE_23_REACH, mode=Mode.PRIVATE) & part.part
    # 草图38 → 切除-拉伸23 (cut, up to next)
    with BuildSketch(Plane(origin=(0, 0, 45), x_dir=(-1, 0, 0), z_dir=(0, 0, -1)), mode=Mode.PRIVATE) as cut_extrude_23_sk8:
        with BuildLine():
            Line((75.687130498, 22.5), (75.687130498, -12.5))
            ThreePointArc((75.687130498, -12.5), (78.687130498, -15.5), (81.687130498, -12.5))
            Line((81.687130498, -12.5), (81.687130498, 22.5))
            ThreePointArc((81.687130498, 22.5), (78.687130498, 25.5), (75.687130498, 22.5))
        make_face()
    cut_extrude_23_tool8 = extrude(cut_extrude_23_sk8.sketch, amount=-CUT_EXTRUDE_23_REACH, mode=Mode.PRIVATE) & part.part
    # 草图38 → 切除-拉伸23 (cut, up to next)
    with BuildSketch(Plane(origin=(0, 0, 45), x_dir=(-1, 0, 0), z_dir=(0, 0, -1)), mode=Mode.PRIVATE) as cut_extrude_23_sk9:
        with BuildLine():
            Line((60.030695747, 22.5), (60.030695747, -12.5))
            ThreePointArc((60.030695747, -12.5), (63.030695747, -15.5), (66.030695747, -12.5))
            Line((66.030695747, -12.5), (66.030695747, 22.5))
            ThreePointArc((66.030695747, 22.5), (63.030695747, 25.5), (60.030695747, 22.5))
        make_face()
    cut_extrude_23_tool9 = extrude(cut_extrude_23_sk9.sketch, amount=-CUT_EXTRUDE_23_REACH, mode=Mode.PRIVATE) & part.part
    # 草图38 → 切除-拉伸23 (cut, up to next)
    with BuildSketch(Plane(origin=(0, 0, 45), x_dir=(-1, 0, 0), z_dir=(0, 0, -1)), mode=Mode.PRIVATE) as cut_extrude_23_sk10:
        with BuildLine():
            Line((44.374260997, 22.5), (44.374260997, -12.5))
            ThreePointArc((44.374260997, -12.5), (47.374260997, -15.5), (50.374260997, -12.5))
            Line((50.374260997, -12.5), (50.374260997, 22.5))
            ThreePointArc((50.374260997, 22.5), (47.374260997, 25.5), (44.374260997, 22.5))
        make_face()
    cut_extrude_23_tool10 = extrude(cut_extrude_23_sk10.sketch, amount=-CUT_EXTRUDE_23_REACH, mode=Mode.PRIVATE) & part.part
    add(cut_extrude_23_tool1.solids().sort_by_distance((110, 5, 45))[0], mode=Mode.SUBTRACT)
    add(cut_extrude_23_tool2.solids().sort_by_distance((94.343565, 5, 45))[0], mode=Mode.SUBTRACT)
    add(cut_extrude_23_tool3.solids().sort_by_distance((78.68713, 5, 45))[0], mode=Mode.SUBTRACT)
    add(cut_extrude_23_tool4.solids().sort_by_distance((63.030696, 5, 45))[0], mode=Mode.SUBTRACT)
    add(cut_extrude_23_tool5.solids().sort_by_distance((47.374261, 5, 45))[0], mode=Mode.SUBTRACT)
    add(cut_extrude_23_tool6.solids().sort_by_distance((-110, 5, 45))[0], mode=Mode.SUBTRACT)
    add(cut_extrude_23_tool7.solids().sort_by_distance((-94.343565, 5, 45))[0], mode=Mode.SUBTRACT)
    add(cut_extrude_23_tool8.solids().sort_by_distance((-78.68713, 5, 45))[0], mode=Mode.SUBTRACT)
    add(cut_extrude_23_tool9.solids().sort_by_distance((-63.030696, 5, 45))[0], mode=Mode.SUBTRACT)
    add(cut_extrude_23_tool10.solids().sort_by_distance((-47.374261, 5, 45))[0], mode=Mode.SUBTRACT)


solid = part.part
